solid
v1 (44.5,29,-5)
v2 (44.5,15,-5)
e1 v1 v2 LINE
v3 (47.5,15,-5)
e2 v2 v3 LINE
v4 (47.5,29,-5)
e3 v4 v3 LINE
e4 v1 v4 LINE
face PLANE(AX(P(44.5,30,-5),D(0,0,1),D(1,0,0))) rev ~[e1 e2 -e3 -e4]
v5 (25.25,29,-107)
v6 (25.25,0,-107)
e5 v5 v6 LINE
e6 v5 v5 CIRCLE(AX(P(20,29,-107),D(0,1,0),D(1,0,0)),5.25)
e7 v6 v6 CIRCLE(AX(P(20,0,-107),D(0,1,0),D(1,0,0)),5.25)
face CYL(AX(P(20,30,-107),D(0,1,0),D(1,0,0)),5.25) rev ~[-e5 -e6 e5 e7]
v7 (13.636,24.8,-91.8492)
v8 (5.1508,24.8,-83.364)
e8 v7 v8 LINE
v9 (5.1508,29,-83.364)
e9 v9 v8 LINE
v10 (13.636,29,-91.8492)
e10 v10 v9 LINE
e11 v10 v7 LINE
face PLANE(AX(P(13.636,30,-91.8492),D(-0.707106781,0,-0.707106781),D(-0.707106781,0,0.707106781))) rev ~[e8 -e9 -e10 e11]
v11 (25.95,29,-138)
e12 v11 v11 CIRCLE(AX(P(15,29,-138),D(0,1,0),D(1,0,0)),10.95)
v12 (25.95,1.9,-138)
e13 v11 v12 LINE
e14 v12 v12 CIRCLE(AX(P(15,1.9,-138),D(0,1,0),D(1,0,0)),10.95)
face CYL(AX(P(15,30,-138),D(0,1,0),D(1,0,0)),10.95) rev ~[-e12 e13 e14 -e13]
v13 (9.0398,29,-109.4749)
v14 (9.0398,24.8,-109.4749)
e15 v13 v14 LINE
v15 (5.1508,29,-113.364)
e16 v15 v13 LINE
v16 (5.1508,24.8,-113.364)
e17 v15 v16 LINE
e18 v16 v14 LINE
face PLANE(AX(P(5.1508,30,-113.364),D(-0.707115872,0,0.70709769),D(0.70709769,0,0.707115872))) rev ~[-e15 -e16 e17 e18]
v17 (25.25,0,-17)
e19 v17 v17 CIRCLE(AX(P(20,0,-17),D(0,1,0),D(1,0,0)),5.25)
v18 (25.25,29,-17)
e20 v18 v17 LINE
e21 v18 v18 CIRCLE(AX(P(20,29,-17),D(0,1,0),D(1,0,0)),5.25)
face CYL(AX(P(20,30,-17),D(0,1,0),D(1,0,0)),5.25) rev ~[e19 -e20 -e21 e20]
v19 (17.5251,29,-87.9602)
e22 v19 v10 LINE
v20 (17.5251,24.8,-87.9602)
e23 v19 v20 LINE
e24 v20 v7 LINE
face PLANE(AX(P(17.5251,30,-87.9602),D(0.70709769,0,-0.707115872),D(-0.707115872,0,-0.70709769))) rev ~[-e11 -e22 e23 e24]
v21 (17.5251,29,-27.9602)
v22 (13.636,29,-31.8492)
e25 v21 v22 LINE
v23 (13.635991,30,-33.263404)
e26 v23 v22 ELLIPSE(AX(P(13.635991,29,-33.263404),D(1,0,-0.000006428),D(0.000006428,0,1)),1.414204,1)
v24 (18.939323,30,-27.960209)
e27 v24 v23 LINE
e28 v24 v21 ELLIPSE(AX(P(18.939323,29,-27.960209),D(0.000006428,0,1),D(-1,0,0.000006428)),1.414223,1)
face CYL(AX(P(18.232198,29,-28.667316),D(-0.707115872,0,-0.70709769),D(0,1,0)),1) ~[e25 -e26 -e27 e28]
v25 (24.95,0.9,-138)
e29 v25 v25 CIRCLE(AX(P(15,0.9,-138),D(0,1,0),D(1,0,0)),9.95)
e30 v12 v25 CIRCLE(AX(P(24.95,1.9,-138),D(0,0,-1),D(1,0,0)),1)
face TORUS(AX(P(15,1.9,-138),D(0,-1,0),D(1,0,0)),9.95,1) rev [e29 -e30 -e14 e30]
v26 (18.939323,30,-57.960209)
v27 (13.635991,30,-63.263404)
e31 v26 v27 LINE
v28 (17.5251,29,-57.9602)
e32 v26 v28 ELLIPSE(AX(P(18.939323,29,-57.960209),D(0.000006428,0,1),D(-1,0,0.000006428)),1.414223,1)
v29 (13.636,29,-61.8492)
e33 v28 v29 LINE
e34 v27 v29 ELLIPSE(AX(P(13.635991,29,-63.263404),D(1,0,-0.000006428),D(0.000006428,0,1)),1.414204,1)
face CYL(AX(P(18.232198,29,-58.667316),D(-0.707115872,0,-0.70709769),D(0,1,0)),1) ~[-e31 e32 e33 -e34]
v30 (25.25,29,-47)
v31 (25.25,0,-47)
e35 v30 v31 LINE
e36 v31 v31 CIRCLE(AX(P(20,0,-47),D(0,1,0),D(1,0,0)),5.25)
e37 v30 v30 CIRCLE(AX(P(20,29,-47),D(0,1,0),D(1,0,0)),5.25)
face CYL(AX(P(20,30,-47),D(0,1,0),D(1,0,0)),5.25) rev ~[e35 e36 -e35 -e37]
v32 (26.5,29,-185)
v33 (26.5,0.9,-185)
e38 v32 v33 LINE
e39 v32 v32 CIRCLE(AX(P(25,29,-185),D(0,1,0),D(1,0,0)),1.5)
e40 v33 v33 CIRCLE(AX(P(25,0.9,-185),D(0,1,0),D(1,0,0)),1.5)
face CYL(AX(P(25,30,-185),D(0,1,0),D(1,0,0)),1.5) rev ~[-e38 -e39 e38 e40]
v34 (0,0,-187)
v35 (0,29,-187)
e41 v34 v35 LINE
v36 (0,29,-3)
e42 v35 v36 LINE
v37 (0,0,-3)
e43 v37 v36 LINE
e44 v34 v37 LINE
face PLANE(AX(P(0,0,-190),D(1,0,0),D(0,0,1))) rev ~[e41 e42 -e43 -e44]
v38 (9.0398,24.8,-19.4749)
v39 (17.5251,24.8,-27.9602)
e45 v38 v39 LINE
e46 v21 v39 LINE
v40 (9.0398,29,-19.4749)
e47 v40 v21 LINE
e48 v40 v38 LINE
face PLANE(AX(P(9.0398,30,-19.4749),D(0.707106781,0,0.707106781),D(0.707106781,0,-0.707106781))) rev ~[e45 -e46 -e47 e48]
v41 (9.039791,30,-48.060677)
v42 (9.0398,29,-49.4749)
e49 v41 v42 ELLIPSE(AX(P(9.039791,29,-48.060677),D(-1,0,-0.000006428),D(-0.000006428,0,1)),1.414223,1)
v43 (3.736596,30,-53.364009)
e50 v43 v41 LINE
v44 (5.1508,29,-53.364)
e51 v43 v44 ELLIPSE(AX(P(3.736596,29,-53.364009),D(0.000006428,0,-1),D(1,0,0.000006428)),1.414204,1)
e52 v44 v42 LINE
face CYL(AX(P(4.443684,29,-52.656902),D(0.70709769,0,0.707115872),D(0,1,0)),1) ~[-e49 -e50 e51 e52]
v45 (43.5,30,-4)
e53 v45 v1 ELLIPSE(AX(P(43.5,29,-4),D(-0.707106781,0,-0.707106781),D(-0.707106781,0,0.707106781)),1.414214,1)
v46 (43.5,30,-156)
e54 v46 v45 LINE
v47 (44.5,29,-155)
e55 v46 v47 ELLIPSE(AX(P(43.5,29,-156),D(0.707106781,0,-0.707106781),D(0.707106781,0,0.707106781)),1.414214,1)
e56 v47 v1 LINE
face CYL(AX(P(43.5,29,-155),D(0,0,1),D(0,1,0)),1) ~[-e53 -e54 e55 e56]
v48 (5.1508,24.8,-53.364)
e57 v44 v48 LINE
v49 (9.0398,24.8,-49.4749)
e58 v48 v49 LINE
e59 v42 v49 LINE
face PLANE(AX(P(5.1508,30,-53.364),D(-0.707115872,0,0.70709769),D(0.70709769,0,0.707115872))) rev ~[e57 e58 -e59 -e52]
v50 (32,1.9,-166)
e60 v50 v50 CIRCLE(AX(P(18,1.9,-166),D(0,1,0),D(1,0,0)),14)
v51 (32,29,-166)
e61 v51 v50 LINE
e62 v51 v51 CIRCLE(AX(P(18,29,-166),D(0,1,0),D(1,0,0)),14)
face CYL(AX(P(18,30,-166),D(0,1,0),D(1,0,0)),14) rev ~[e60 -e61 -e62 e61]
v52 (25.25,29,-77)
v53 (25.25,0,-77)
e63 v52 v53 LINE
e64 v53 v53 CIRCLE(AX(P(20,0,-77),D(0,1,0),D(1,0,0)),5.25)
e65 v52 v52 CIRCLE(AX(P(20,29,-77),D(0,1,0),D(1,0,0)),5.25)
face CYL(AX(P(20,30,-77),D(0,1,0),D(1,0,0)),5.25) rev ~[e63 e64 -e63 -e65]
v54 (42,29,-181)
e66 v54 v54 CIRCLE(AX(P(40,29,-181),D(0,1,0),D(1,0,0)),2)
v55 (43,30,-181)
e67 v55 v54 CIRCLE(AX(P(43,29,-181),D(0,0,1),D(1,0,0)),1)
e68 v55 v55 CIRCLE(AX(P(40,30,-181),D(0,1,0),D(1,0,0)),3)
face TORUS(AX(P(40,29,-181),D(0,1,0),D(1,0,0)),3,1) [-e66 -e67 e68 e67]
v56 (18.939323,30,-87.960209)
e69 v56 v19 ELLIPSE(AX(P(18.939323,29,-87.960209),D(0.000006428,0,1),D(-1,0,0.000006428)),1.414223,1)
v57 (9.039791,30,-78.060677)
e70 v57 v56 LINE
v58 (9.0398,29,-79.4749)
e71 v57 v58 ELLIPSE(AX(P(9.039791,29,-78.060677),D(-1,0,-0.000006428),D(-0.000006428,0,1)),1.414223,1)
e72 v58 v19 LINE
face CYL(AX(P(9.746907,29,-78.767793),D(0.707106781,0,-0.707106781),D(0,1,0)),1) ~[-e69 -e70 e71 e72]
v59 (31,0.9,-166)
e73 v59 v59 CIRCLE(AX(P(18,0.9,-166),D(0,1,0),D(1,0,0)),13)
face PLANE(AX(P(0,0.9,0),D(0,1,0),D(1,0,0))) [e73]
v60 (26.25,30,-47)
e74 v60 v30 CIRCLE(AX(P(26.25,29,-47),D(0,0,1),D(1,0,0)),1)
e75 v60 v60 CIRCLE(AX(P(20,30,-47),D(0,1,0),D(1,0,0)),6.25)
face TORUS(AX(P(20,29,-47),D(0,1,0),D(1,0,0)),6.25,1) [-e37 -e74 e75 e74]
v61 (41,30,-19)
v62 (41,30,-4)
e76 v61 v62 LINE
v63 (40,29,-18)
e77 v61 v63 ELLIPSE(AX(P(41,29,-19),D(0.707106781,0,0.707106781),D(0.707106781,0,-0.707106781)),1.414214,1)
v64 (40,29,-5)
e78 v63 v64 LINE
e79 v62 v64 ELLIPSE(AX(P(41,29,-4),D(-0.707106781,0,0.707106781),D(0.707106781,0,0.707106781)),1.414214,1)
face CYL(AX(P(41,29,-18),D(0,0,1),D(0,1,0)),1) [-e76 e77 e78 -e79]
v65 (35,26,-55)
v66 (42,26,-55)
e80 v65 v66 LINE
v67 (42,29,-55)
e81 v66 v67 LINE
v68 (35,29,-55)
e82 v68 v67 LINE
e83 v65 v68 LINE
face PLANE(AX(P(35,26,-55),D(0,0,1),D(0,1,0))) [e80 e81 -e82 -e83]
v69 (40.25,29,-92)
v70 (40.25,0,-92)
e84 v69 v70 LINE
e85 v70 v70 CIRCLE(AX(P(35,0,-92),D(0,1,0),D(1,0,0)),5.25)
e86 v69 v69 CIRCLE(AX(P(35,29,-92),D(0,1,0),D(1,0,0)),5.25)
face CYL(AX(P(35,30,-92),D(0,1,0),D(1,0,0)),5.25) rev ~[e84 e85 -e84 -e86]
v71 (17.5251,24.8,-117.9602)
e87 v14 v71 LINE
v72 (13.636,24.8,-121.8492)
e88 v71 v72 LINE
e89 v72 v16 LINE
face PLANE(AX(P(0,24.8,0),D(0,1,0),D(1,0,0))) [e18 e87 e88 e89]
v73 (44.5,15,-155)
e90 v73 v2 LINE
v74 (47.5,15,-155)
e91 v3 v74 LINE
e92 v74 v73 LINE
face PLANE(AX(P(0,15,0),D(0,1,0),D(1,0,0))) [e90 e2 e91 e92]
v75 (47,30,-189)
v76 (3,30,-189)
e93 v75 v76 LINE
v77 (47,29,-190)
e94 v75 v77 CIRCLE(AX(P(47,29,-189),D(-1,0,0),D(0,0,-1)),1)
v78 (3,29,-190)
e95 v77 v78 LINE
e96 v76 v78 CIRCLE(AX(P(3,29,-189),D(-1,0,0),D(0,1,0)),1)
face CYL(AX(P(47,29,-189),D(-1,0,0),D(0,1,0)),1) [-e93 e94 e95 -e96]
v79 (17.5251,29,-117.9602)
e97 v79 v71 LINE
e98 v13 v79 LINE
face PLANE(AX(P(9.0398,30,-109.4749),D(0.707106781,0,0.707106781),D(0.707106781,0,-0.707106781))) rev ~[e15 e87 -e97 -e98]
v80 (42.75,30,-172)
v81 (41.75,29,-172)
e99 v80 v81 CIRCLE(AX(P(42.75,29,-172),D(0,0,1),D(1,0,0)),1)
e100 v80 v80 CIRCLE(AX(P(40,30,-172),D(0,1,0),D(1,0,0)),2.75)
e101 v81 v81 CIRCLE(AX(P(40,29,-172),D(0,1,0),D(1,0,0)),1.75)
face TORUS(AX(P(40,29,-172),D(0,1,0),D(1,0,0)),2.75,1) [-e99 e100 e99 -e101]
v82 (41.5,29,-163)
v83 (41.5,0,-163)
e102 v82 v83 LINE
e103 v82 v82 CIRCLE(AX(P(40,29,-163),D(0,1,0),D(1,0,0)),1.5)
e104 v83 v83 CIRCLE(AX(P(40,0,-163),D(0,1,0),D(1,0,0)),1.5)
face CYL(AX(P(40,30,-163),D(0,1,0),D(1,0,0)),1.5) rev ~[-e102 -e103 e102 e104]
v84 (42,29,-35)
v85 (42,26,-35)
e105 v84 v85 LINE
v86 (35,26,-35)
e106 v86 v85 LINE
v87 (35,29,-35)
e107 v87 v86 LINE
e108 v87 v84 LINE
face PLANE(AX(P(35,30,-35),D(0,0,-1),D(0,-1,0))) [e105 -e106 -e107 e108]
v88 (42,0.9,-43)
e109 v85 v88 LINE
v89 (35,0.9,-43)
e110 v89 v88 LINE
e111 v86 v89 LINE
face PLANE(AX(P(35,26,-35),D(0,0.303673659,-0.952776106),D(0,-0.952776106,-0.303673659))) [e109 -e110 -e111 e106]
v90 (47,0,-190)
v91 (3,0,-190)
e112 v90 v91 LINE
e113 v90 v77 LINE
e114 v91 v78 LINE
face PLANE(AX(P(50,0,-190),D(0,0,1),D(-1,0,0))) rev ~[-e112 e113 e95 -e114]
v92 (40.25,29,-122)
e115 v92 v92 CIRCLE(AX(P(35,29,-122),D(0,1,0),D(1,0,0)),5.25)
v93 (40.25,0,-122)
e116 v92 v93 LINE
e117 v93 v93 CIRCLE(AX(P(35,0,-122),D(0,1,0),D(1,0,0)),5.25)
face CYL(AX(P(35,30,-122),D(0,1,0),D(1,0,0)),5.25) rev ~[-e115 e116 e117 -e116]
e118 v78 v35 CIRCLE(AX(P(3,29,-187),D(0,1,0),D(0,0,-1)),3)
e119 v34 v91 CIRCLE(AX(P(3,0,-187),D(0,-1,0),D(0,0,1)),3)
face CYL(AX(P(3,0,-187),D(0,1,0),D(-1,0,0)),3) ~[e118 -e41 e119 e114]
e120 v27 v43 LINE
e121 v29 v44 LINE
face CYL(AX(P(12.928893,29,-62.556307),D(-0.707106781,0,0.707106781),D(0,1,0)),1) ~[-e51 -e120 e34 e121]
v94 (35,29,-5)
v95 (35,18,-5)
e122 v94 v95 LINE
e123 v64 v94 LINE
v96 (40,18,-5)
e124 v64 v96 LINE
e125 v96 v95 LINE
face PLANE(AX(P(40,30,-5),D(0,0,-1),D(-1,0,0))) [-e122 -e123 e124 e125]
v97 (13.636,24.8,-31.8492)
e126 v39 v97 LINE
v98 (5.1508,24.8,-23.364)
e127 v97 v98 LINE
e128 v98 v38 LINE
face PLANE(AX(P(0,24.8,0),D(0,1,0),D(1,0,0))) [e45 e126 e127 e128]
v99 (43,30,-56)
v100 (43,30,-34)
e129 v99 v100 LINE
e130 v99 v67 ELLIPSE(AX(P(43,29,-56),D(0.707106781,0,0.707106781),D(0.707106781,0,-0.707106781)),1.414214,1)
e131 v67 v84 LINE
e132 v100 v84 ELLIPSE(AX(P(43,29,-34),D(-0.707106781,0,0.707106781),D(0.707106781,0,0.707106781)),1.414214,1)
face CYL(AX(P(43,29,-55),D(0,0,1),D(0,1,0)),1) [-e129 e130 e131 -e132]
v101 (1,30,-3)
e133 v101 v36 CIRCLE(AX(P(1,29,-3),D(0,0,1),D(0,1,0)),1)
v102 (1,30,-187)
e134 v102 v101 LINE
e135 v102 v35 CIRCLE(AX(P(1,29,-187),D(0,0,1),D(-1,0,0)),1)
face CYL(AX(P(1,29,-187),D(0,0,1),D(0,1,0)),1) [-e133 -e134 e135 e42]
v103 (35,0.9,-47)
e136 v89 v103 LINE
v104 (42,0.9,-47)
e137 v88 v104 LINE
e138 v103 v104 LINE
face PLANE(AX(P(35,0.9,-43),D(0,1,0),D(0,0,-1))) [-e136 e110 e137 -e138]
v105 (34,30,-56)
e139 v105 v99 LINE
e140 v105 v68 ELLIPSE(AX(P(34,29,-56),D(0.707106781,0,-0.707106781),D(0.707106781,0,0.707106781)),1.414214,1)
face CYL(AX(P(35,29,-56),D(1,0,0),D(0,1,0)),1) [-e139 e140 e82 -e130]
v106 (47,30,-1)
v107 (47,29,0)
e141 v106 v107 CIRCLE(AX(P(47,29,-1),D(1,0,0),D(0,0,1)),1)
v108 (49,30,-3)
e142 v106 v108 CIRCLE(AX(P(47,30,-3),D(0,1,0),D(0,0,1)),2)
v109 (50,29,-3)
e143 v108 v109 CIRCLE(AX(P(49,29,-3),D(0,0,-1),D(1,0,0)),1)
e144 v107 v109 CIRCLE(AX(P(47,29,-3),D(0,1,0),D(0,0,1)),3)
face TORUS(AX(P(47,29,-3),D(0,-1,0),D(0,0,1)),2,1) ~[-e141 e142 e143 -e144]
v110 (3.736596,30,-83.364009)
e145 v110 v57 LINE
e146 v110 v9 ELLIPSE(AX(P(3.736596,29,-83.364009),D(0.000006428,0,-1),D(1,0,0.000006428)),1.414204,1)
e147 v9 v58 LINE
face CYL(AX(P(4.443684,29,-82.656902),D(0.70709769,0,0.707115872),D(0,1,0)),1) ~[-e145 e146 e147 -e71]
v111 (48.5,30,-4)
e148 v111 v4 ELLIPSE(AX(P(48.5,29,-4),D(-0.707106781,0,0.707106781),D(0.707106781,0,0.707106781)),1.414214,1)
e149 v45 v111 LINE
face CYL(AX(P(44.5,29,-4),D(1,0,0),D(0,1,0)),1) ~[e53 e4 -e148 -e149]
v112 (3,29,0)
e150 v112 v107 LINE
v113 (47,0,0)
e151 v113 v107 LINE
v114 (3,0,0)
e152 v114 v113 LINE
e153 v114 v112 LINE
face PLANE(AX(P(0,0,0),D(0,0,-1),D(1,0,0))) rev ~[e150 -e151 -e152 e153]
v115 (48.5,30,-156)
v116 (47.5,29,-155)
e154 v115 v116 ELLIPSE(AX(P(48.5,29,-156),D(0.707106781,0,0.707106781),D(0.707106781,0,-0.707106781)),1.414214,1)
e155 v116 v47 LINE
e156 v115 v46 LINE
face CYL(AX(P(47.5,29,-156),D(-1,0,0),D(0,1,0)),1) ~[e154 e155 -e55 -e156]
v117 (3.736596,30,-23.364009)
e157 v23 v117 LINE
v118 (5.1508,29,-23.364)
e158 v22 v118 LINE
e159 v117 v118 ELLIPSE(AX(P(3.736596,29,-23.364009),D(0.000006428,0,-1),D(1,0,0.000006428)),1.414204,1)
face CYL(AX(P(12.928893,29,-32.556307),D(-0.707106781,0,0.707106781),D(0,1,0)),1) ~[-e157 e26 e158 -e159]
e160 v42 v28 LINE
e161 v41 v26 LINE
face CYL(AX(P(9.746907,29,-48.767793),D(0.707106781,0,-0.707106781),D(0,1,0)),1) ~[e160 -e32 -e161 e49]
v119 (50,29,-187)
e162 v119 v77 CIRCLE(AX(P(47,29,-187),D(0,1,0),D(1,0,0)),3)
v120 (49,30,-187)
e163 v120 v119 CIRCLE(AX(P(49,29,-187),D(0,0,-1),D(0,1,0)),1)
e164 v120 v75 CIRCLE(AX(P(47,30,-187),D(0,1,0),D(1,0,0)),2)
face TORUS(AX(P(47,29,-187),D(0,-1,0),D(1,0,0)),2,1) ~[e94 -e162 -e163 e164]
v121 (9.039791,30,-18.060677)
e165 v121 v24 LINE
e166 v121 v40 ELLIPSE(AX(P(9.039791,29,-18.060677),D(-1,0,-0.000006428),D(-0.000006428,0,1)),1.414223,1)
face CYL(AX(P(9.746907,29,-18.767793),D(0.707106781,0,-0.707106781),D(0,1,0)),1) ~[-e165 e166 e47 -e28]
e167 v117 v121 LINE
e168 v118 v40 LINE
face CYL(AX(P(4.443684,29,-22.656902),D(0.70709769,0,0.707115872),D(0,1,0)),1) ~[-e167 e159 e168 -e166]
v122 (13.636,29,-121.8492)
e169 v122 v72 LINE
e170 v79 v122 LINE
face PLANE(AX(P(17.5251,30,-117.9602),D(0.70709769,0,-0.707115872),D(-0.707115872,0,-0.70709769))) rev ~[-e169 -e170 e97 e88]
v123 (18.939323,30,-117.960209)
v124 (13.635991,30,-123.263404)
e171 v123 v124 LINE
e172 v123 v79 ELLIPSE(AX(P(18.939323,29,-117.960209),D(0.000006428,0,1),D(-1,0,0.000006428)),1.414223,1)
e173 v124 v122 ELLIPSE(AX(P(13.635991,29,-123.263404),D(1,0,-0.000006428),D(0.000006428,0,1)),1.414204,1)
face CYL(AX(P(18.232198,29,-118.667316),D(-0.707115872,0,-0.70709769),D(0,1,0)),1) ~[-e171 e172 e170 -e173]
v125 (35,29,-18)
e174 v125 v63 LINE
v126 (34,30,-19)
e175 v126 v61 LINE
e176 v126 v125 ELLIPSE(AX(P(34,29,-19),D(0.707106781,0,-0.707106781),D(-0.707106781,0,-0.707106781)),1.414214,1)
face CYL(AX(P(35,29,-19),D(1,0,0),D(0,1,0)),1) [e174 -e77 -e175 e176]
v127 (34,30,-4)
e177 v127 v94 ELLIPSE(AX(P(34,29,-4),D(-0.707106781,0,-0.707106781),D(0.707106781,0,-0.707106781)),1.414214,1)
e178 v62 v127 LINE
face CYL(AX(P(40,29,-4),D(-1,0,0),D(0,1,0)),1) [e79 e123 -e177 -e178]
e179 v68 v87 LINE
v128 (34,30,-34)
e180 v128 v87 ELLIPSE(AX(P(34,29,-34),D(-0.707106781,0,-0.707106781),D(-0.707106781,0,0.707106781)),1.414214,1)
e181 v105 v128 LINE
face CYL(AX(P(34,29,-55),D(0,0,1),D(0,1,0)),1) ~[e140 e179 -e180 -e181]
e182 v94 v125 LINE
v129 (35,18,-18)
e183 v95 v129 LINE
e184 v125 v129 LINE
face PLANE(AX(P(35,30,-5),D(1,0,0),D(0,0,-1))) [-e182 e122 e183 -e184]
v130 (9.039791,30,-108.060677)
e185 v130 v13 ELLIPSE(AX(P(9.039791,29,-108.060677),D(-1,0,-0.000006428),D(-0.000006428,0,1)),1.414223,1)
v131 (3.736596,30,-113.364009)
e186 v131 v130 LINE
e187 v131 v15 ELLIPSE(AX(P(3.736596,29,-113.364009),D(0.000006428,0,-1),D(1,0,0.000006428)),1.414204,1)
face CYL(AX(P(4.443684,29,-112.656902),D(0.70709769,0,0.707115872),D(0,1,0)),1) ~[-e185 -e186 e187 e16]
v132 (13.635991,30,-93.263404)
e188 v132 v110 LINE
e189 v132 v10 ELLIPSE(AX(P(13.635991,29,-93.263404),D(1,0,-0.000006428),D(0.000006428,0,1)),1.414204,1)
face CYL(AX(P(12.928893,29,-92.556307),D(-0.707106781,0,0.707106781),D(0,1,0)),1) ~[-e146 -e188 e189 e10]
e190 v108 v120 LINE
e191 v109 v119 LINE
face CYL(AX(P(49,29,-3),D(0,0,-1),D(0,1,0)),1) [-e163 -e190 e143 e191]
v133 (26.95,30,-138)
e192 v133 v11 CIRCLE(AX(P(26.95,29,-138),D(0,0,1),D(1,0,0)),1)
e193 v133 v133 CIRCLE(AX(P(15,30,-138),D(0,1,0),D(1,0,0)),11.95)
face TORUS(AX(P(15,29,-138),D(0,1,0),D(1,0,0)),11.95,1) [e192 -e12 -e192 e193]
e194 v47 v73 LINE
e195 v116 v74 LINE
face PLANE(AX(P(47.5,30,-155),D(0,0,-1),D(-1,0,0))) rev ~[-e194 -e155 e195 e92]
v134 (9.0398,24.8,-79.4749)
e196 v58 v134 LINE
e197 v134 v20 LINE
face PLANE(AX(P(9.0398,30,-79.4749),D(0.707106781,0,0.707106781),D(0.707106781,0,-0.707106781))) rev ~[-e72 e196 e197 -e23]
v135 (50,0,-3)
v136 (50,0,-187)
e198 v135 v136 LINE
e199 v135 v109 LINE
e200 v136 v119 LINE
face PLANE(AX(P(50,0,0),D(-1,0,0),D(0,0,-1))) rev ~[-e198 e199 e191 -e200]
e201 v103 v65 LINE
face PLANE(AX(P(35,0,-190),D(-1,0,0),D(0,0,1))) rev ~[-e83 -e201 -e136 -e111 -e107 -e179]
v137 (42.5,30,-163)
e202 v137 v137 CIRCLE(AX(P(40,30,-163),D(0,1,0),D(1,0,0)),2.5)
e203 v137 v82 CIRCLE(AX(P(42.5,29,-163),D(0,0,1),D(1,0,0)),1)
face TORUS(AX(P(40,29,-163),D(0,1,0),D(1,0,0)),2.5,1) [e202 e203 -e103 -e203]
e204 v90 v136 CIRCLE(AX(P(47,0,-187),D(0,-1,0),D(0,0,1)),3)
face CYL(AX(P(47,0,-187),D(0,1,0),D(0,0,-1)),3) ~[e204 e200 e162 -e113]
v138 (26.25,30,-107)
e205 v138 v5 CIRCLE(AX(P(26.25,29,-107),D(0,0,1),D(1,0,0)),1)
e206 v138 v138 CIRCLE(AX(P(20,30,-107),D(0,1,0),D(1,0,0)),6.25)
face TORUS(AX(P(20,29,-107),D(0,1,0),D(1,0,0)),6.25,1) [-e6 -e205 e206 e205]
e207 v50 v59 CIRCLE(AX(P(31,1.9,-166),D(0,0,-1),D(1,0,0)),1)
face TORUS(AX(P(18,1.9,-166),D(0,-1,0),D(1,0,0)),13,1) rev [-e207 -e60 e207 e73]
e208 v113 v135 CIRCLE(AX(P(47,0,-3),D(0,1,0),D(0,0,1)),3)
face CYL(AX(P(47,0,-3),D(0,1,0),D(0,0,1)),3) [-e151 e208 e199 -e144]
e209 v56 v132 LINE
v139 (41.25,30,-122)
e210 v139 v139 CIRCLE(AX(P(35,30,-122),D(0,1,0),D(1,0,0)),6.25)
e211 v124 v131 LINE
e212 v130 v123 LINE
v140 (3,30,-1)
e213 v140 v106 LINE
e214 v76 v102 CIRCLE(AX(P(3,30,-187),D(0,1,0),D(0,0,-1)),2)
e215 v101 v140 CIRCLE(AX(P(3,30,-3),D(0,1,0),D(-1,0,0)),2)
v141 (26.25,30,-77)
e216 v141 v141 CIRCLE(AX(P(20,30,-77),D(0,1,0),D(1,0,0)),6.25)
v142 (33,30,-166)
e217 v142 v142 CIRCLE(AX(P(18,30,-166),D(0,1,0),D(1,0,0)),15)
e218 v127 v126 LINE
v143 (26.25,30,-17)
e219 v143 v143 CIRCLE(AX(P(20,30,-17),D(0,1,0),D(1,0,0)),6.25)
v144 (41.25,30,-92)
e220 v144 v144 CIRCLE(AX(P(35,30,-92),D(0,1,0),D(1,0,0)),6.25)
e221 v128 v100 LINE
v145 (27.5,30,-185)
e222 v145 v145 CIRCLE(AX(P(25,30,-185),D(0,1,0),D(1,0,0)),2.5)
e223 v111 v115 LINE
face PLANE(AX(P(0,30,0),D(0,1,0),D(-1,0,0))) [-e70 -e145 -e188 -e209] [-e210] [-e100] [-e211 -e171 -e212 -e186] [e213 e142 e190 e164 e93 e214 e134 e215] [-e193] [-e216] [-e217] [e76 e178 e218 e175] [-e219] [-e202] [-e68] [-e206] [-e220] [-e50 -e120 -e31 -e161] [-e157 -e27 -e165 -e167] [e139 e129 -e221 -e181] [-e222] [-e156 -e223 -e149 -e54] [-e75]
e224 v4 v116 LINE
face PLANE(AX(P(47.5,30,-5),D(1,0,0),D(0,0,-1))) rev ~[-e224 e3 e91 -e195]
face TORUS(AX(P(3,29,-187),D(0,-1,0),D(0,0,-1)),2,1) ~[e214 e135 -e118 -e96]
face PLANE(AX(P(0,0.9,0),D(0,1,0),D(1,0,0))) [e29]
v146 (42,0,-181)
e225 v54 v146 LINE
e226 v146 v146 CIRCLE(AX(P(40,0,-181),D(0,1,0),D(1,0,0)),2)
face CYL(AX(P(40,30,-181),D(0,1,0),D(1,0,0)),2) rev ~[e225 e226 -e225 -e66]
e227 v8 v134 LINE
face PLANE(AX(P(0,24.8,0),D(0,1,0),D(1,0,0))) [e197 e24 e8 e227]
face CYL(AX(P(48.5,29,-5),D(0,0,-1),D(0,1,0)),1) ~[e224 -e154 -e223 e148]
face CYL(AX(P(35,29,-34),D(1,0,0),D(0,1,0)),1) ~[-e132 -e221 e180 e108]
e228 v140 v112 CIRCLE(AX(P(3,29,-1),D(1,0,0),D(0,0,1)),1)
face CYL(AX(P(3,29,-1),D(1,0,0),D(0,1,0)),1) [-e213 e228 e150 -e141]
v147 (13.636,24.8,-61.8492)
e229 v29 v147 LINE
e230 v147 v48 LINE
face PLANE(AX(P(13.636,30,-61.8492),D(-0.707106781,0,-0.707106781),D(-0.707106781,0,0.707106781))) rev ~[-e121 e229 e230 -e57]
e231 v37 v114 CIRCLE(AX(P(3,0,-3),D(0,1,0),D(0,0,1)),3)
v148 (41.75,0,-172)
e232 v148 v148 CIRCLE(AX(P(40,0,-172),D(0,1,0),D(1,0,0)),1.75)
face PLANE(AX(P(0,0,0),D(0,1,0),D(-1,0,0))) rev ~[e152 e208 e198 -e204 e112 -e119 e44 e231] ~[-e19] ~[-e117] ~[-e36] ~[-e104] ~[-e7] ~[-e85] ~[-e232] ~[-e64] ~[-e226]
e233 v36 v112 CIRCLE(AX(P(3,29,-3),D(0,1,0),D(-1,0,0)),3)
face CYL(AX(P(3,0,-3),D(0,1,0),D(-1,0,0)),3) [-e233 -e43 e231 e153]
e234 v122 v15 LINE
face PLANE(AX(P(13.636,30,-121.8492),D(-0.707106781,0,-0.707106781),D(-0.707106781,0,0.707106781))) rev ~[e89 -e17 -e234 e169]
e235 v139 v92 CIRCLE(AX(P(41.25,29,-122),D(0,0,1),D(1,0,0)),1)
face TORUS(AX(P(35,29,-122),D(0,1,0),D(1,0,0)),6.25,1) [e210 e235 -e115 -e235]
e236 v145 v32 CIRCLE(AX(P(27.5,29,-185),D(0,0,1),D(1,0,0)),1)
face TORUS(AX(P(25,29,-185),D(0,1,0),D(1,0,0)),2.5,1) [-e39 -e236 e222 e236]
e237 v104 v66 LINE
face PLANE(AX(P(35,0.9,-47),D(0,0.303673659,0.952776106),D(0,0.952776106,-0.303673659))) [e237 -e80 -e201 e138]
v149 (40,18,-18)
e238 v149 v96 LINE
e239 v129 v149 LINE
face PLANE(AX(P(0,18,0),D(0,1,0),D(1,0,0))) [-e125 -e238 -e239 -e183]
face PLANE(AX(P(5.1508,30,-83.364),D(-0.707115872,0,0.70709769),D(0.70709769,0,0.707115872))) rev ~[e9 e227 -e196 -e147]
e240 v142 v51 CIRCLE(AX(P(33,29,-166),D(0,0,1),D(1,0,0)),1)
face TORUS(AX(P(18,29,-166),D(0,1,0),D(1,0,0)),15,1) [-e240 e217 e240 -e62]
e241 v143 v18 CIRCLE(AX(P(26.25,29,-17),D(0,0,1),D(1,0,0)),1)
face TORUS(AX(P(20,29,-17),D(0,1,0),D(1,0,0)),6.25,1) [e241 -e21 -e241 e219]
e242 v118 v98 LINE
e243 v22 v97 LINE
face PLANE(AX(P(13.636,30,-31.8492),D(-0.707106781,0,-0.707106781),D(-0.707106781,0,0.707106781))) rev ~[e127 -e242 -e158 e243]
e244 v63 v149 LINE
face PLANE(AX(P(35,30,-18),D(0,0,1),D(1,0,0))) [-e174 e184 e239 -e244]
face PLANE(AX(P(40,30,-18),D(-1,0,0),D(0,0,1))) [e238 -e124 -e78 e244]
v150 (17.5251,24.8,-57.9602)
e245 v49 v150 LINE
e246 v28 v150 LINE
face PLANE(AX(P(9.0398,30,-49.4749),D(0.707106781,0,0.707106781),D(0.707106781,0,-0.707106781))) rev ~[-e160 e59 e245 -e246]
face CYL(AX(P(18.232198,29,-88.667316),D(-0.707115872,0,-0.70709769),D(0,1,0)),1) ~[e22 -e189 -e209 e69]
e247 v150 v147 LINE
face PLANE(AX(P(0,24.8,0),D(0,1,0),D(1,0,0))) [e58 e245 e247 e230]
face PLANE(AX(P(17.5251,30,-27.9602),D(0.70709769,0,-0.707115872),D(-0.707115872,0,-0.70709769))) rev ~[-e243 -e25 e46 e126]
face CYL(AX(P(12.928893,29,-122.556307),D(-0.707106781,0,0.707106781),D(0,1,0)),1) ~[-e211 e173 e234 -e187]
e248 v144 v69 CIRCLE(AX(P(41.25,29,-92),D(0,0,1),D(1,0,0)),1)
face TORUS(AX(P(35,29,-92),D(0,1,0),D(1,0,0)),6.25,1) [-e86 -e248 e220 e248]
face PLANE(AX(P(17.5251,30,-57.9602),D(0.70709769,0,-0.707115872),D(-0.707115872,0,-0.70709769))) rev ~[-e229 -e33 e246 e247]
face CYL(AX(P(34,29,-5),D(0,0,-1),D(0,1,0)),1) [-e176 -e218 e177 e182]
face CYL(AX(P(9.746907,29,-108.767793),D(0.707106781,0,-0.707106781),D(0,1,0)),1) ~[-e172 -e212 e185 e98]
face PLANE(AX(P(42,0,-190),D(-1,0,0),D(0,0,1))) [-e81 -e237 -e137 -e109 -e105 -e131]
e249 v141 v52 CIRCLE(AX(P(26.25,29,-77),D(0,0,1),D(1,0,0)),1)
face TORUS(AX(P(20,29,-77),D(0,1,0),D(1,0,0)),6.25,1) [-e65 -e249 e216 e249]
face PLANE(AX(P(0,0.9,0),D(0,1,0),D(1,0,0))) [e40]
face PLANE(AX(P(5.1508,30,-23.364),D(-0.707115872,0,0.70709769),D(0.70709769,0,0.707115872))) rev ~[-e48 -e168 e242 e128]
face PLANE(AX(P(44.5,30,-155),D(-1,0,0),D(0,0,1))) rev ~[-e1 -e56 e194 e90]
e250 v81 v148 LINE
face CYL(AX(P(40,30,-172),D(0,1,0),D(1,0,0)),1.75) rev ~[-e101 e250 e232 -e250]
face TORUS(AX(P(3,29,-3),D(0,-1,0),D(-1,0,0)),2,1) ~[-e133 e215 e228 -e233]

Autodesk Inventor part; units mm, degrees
ref_plane "YZ Plane" through (0, 0, 0) normal (1, 0, 0) x (0, 1, 0)
ref_plane "XZ Plane" through (0, 0, 0) normal (0, 1, 0) x (-1, 0, 0)
ref_plane "XY Plane" through (0, 0, 0) normal (0, 0, 1) x (1, 0, 0)
sketch "Эскиз1" plane through (0, 0, 0) normal (0, 1, 0) x (-1, 0, 0)
  line L0 (0, 0) -> (-50, 0)
  line L1 (-50, 0) -> (-50, -190)
  line L2 (-50, -190) -> (0, -190)
  line L3 (0, -190) -> (0, 0)
  dimension "d0" = 50
  dimension "d1" = 190
extrude "Корпус" add sketch "Эскиз1" along normal blind 30
sketch "Эскиз2" plane through (0, 30, 0) normal (0, 1, 0) x (1, 0, 0)
  circle A0 centre (18, 166) radius 14
  line L0 (0, 190) -> (0, 0) projected
  line L1 (50, 190) -> (0, 190) projected
  dimension "d4" = 28
  dimension "d6" = 24
  dimension "d7" = 18
extrude "Клей" cut sketch "Эскиз2" against normal blind 29.1
sketch "Эскиз3" plane through (0, 30, 0) normal (0, 1, 0) x (1, 0, 0)
  circle A0 centre (15, 138) radius 10.95
  line L0 (0, 190) -> (0, 0) projected
  line L1 (50, 190) -> (0, 190) projected
  dimension "d10" = 21.9
  dimension "d12" = 52
  dimension "d13" = 15
extrude "Фаскосниматель" cut sketch "Эскиз3" against normal blind 29.1
sketch "Эскиз4" plane through (0, 30, 0) normal (0, 1, 0) x (1, 0, 0)
  circle A0 centre (25, 185) radius 1.5
  line L0 (0, 190) -> (0, 0) projected
  line L1 (50, 190) -> (0, 190) projected
  point P0 (25, 190)
  dimension "d16" = 3
  dimension "d17" = 25
  dimension "d18" = 5
extrude "Шомпол" cut sketch "Эскиз4" against normal blind 29.1
sketch "Эскиз5" plane through (0, 30, 0) normal (0, 1, 0) x (1, 0, 0)
  circle A0 centre (35, 122) radius 5.25
  line L0 (50, 0) -> (50, 190) projected
  line L1 (50, 190) -> (0, 190) projected
  point P0 (0, 0)
  dimension "d21" = 10.5
  dimension "d22" = 15
  dimension "d23" = 68
extrude "Лопатка" cut sketch "Эскиз5" against normal blind 30
sketch "Сопла" plane through (0, 30, 0) normal (0, 1, 0) x (1, 0, 0)
  circle A0 centre (20, 107) radius 5.25
  line L0 (0, 190) -> (0, 0) projected
  line L1 (5.1508, 113.364) -> (9.0398, 109.4749)
  line L2 (9.0398, 109.4749) -> (17.5251, 117.9602)
  line L3 (17.5251, 117.9602) -> (13.636, 121.8492)
  line L4 (13.636, 121.8492) -> (5.1508, 113.364)
  line L5 (0, 0) -> (50, 0) projected
  circle A1 centre (20, 77) radius 5.25
  line L6 (5.1508, 83.364) -> (9.0398, 79.4749)
  line L7 (9.0398, 79.4749) -> (17.5251, 87.9602)
  line L8 (17.5251, 87.9602) -> (13.636, 91.8492)
  line L9 (13.636, 91.8492) -> (5.1508, 83.364)
  circle A2 centre (20, 47) radius 5.25
  line L10 (5.1508, 53.364) -> (9.0398, 49.4749)
  line L11 (9.0398, 49.4749) -> (17.5251, 57.9602)
  line L12 (17.5251, 57.9602) -> (13.636, 61.8492)
  line L13 (13.636, 61.8492) -> (5.1508, 53.364)
  line L14 (17.5251, 27.9602) -> (13.636, 31.8492)
  line L15 (13.636, 31.8492) -> (5.1508, 23.364)
  line L16 (5.1508, 23.364) -> (9.0398, 19.4749)
  line L17 (9.0398, 19.4749) -> (17.5251, 27.9602)
  circle A3 centre (20, 17) radius 5.25
  line L18 (50, 190) -> (0, 190) projected
  point P0 (13.2825, 113.7175)
  point P1 (13.2825, 83.7175)
  point P2 (13.2825, 53.7175)
  point P3 (13.2825, 23.7175)
  dimension "d89" = 150
  dimension "d26" = 10.5
  dimension "d27" = 20
  dimension "d28" = 45
  dimension "d29" = 9.5
  dimension "d35" = 10.5
  dimension "d36" = 9.5
  dimension "d37" = 20
  dimension "d38" = 30
  dimension "d39" = 10.5
  dimension "d40" = 9.5
  dimension "d41" = 20
  dimension "d42" = 30
  dimension "d43" = 10.5
  dimension "d44" = 9.5
  dimension "d45" = 20
  dimension "d46" = 30
  dimension "d47" = 83
  dimension "d48" = 6.7175
  dimension "d49" = 6.7175
  dimension "d50" = 6.7175
  dimension "d51" = 6.7175
  dimension "d52" = 6.7175
  dimension "d53" = 6.7175
  dimension "d54" = 6.7175
  dimension "d55" = 6.7175
  dimension "d98" = 12
  dimension "d99" = 5.5
  dimension "d100" = 12
  dimension "d101" = 5.5
  dimension "d102" = 12
  dimension "d103" = 5.5
  dimension "d104" = 12
  dimension "d105" = 5.5
extrude "Сопла - радиатор" cut sketch "Сопла" against normal blind 30 contours A0 | A1 | A2 | A3
extrude "Сопла - коннектор" cut sketch "Сопла" against normal blind 5.2 contours L4 L3 L2 L1 | L9 L8 L7 L6 | L13 L12 L11 L10 | L17 L16 L15 L14
sketch "Эскиз7" plane through (0, 30, 0) normal (0, 1, 0) x (1, 0, 0)
  line L0 (35, 18) -> (40, 18)
  line L1 (40, 18) -> (40, 5)
  line L2 (40, 5) -> (35, 5)
  line L3 (35, 5) -> (35, 18)
  line L4 (0, 0) -> (50, 0) projected
  line L5 (0, 190) -> (0, 0) projected
  point P0 (37.5, 5)
  point P1 (35, 11.5)
  dimension "d60" = 5
  dimension "d61" = 13
  dimension "d62" = 5
  dimension "d63" = 35
extrude "Флешка" cut sketch "Эскиз7" against normal blind 12
sketch "Эскиз8" plane through (0, 30, 0) normal (0, 1, 0) x (1, 0, 0)
  circle A0 centre (35, 92) radius 5.25
  line L0 (50, 0) -> (50, 190) projected
  line L1 (50, 190) -> (0, 190) projected
  point P0 (0, 0)
  dimension "d66" = 10.5
  dimension "d67" = 15
  dimension "d68" = 98
extrude "Скальпель" cut sketch "Эскиз8" against normal blind 30
ref_plane "РабПлоскость2" through (35, 0, -190) normal (-1, 0, 0) x (0, 0, 1)
sketch "Эскиз11" plane through (35, 0, -190) normal (-1, 0, 0) x (0, 0, 1)
  line L0 (155, 30) -> (155, 26)
  line L1 (155, 26) -> (147, 0.9)
  line L2 (147, 0.9) -> (143, 0.9)
  line L3 (143, 0.9) -> (135, 26)
  line L4 (135, 26) -> (135, 30)
  line L5 (135, 30) -> (155, 30)
  line L6 (190, 30) -> (0, 30) projected
  line L7 (190, 0) -> (190, 30) projected
  point P0 (145, 30)
  point P1 (145, 0.9)
  dimension "d78" = 4
  dimension "d79" = 29.1
  dimension "d80" = 0
  dimension "d81" = 4
  dimension "d82" = 4
  dimension "d83" = 35
  dimension "d84" = 20
  dimension "d85" = 10
extrude "Кусачки" cut sketch "Эскиз11" against normal blind 7
sketch "Эскиз12" plane through (0, 30, 0) normal (0, 1, 0) x (1, 0, 0)
  line L0 (44.5, 5) -> (47.5, 5)
  line L1 (47.5, 5) -> (47.5, 155)
  line L2 (47.5, 155) -> (44.5, 155)
  line L3 (44.5, 155) -> (44.5, 5)
  line L4 (50, 0) -> (50, 190) projected
  line L5 (0, 0) -> (50, 0) projected
  dimension "d88" = 3
  dimension "d89" = 150
  dimension "d90" = 2.5
  dimension "d91" = 5
extrude "Клипсы" cut sketch "Эскиз12" against normal blind 15
fillet "Сопряжение1" radius 1 38 edges at (7.0953, 30, -21.4194) (9.3934, 30, -27.6066) (15.5806, 30, -29.9047) (13.2825, 30, -23.7175) (7.0953, 30, -51.4194) (9.3934, 30, -57.6066) (15.5806, 30, -59.9047) (13.2825, 30, -53.7175) (7.0953, 30, -81.4194) (9.3934, 30, -87.6066) (15.5806, 30, -89.9047) (13.2825, 30, -83.7175) (7.0953, 30, -111.4194) (9.3934, 30, -117.6066) (15.5806, 30, -119.9047) (13.2825, 30, -113.7175) (14.75, 30, -17) (14.75, 30, -47) (14.75, 30, -77) (14.75, 30, -107) (4.05, 30, -138) (4.05, 0.9, -138) (4, 30, -166) (4, 0.9, -166) (29.75, 30, -92) (29.75, 30, -122) (35, 30, -11.5) (37.5, 30, -18) (40, 30, -11.5) (37.5, 30, -5) (44.5, 30, -80) (46, 30, -5) (47.5, 30, -80) (46, 30, -155) (35, 30, -45) (38.5, 30, -55) (42, 30, -45) (38.5, 30, -35)
fillet "Сопряжение2" radius 3 4 edges at (0, 15, -190) (50, 15, -190) (0, 15, 0) (50, 15, 0)
fillet "Сопряжение3" radius 1 8 edges at (49.1213, 30, -0.8787) (50, 30, -95) (49.1213, 30, -189.1213) (25, 30, -190) (0.8787, 30, -189.1213) (0, 30, -95) (0.8787, 30, -0.8787) (25, 30, 0)
fillet "Сопряжение4" radius 1 1 edges at (23.5, 30, -185)
sketch "Эскиз13" plane through (0, 30, 0) normal (0, 1, 0) x (1, 0, 0)
  circle A0 centre (40, 181) radius 2
  circle A1 centre (40, 172) radius 1.75
  circle A2 centre (40, 163) radius 1.5
  line L0 (47, 190) -> (3, 190) projected
  line L1 (49, 187) -> (49, 3) projected
  line L2 (50, 3) -> (50, 187) projected
  point P0 (0, 0)
  dimension "d107" = 4
  dimension "d108" = 9
  dimension "d109" = 9
  dimension "d110" = 9
  dimension "d112" = 10
  dimension "d113" = 10
  dimension "d114" = 10
  dimension "d115" = 3.5
  dimension "d116" = 3
extrude "Шестигранники" cut sketch "Эскиз13" against normal blind 30
fillet "Сопряжение5" radius 1 3 edges at (38, 30, -181) (38.25, 30, -172) (38.5, 30, -163)
properties part number "ToolBox"
